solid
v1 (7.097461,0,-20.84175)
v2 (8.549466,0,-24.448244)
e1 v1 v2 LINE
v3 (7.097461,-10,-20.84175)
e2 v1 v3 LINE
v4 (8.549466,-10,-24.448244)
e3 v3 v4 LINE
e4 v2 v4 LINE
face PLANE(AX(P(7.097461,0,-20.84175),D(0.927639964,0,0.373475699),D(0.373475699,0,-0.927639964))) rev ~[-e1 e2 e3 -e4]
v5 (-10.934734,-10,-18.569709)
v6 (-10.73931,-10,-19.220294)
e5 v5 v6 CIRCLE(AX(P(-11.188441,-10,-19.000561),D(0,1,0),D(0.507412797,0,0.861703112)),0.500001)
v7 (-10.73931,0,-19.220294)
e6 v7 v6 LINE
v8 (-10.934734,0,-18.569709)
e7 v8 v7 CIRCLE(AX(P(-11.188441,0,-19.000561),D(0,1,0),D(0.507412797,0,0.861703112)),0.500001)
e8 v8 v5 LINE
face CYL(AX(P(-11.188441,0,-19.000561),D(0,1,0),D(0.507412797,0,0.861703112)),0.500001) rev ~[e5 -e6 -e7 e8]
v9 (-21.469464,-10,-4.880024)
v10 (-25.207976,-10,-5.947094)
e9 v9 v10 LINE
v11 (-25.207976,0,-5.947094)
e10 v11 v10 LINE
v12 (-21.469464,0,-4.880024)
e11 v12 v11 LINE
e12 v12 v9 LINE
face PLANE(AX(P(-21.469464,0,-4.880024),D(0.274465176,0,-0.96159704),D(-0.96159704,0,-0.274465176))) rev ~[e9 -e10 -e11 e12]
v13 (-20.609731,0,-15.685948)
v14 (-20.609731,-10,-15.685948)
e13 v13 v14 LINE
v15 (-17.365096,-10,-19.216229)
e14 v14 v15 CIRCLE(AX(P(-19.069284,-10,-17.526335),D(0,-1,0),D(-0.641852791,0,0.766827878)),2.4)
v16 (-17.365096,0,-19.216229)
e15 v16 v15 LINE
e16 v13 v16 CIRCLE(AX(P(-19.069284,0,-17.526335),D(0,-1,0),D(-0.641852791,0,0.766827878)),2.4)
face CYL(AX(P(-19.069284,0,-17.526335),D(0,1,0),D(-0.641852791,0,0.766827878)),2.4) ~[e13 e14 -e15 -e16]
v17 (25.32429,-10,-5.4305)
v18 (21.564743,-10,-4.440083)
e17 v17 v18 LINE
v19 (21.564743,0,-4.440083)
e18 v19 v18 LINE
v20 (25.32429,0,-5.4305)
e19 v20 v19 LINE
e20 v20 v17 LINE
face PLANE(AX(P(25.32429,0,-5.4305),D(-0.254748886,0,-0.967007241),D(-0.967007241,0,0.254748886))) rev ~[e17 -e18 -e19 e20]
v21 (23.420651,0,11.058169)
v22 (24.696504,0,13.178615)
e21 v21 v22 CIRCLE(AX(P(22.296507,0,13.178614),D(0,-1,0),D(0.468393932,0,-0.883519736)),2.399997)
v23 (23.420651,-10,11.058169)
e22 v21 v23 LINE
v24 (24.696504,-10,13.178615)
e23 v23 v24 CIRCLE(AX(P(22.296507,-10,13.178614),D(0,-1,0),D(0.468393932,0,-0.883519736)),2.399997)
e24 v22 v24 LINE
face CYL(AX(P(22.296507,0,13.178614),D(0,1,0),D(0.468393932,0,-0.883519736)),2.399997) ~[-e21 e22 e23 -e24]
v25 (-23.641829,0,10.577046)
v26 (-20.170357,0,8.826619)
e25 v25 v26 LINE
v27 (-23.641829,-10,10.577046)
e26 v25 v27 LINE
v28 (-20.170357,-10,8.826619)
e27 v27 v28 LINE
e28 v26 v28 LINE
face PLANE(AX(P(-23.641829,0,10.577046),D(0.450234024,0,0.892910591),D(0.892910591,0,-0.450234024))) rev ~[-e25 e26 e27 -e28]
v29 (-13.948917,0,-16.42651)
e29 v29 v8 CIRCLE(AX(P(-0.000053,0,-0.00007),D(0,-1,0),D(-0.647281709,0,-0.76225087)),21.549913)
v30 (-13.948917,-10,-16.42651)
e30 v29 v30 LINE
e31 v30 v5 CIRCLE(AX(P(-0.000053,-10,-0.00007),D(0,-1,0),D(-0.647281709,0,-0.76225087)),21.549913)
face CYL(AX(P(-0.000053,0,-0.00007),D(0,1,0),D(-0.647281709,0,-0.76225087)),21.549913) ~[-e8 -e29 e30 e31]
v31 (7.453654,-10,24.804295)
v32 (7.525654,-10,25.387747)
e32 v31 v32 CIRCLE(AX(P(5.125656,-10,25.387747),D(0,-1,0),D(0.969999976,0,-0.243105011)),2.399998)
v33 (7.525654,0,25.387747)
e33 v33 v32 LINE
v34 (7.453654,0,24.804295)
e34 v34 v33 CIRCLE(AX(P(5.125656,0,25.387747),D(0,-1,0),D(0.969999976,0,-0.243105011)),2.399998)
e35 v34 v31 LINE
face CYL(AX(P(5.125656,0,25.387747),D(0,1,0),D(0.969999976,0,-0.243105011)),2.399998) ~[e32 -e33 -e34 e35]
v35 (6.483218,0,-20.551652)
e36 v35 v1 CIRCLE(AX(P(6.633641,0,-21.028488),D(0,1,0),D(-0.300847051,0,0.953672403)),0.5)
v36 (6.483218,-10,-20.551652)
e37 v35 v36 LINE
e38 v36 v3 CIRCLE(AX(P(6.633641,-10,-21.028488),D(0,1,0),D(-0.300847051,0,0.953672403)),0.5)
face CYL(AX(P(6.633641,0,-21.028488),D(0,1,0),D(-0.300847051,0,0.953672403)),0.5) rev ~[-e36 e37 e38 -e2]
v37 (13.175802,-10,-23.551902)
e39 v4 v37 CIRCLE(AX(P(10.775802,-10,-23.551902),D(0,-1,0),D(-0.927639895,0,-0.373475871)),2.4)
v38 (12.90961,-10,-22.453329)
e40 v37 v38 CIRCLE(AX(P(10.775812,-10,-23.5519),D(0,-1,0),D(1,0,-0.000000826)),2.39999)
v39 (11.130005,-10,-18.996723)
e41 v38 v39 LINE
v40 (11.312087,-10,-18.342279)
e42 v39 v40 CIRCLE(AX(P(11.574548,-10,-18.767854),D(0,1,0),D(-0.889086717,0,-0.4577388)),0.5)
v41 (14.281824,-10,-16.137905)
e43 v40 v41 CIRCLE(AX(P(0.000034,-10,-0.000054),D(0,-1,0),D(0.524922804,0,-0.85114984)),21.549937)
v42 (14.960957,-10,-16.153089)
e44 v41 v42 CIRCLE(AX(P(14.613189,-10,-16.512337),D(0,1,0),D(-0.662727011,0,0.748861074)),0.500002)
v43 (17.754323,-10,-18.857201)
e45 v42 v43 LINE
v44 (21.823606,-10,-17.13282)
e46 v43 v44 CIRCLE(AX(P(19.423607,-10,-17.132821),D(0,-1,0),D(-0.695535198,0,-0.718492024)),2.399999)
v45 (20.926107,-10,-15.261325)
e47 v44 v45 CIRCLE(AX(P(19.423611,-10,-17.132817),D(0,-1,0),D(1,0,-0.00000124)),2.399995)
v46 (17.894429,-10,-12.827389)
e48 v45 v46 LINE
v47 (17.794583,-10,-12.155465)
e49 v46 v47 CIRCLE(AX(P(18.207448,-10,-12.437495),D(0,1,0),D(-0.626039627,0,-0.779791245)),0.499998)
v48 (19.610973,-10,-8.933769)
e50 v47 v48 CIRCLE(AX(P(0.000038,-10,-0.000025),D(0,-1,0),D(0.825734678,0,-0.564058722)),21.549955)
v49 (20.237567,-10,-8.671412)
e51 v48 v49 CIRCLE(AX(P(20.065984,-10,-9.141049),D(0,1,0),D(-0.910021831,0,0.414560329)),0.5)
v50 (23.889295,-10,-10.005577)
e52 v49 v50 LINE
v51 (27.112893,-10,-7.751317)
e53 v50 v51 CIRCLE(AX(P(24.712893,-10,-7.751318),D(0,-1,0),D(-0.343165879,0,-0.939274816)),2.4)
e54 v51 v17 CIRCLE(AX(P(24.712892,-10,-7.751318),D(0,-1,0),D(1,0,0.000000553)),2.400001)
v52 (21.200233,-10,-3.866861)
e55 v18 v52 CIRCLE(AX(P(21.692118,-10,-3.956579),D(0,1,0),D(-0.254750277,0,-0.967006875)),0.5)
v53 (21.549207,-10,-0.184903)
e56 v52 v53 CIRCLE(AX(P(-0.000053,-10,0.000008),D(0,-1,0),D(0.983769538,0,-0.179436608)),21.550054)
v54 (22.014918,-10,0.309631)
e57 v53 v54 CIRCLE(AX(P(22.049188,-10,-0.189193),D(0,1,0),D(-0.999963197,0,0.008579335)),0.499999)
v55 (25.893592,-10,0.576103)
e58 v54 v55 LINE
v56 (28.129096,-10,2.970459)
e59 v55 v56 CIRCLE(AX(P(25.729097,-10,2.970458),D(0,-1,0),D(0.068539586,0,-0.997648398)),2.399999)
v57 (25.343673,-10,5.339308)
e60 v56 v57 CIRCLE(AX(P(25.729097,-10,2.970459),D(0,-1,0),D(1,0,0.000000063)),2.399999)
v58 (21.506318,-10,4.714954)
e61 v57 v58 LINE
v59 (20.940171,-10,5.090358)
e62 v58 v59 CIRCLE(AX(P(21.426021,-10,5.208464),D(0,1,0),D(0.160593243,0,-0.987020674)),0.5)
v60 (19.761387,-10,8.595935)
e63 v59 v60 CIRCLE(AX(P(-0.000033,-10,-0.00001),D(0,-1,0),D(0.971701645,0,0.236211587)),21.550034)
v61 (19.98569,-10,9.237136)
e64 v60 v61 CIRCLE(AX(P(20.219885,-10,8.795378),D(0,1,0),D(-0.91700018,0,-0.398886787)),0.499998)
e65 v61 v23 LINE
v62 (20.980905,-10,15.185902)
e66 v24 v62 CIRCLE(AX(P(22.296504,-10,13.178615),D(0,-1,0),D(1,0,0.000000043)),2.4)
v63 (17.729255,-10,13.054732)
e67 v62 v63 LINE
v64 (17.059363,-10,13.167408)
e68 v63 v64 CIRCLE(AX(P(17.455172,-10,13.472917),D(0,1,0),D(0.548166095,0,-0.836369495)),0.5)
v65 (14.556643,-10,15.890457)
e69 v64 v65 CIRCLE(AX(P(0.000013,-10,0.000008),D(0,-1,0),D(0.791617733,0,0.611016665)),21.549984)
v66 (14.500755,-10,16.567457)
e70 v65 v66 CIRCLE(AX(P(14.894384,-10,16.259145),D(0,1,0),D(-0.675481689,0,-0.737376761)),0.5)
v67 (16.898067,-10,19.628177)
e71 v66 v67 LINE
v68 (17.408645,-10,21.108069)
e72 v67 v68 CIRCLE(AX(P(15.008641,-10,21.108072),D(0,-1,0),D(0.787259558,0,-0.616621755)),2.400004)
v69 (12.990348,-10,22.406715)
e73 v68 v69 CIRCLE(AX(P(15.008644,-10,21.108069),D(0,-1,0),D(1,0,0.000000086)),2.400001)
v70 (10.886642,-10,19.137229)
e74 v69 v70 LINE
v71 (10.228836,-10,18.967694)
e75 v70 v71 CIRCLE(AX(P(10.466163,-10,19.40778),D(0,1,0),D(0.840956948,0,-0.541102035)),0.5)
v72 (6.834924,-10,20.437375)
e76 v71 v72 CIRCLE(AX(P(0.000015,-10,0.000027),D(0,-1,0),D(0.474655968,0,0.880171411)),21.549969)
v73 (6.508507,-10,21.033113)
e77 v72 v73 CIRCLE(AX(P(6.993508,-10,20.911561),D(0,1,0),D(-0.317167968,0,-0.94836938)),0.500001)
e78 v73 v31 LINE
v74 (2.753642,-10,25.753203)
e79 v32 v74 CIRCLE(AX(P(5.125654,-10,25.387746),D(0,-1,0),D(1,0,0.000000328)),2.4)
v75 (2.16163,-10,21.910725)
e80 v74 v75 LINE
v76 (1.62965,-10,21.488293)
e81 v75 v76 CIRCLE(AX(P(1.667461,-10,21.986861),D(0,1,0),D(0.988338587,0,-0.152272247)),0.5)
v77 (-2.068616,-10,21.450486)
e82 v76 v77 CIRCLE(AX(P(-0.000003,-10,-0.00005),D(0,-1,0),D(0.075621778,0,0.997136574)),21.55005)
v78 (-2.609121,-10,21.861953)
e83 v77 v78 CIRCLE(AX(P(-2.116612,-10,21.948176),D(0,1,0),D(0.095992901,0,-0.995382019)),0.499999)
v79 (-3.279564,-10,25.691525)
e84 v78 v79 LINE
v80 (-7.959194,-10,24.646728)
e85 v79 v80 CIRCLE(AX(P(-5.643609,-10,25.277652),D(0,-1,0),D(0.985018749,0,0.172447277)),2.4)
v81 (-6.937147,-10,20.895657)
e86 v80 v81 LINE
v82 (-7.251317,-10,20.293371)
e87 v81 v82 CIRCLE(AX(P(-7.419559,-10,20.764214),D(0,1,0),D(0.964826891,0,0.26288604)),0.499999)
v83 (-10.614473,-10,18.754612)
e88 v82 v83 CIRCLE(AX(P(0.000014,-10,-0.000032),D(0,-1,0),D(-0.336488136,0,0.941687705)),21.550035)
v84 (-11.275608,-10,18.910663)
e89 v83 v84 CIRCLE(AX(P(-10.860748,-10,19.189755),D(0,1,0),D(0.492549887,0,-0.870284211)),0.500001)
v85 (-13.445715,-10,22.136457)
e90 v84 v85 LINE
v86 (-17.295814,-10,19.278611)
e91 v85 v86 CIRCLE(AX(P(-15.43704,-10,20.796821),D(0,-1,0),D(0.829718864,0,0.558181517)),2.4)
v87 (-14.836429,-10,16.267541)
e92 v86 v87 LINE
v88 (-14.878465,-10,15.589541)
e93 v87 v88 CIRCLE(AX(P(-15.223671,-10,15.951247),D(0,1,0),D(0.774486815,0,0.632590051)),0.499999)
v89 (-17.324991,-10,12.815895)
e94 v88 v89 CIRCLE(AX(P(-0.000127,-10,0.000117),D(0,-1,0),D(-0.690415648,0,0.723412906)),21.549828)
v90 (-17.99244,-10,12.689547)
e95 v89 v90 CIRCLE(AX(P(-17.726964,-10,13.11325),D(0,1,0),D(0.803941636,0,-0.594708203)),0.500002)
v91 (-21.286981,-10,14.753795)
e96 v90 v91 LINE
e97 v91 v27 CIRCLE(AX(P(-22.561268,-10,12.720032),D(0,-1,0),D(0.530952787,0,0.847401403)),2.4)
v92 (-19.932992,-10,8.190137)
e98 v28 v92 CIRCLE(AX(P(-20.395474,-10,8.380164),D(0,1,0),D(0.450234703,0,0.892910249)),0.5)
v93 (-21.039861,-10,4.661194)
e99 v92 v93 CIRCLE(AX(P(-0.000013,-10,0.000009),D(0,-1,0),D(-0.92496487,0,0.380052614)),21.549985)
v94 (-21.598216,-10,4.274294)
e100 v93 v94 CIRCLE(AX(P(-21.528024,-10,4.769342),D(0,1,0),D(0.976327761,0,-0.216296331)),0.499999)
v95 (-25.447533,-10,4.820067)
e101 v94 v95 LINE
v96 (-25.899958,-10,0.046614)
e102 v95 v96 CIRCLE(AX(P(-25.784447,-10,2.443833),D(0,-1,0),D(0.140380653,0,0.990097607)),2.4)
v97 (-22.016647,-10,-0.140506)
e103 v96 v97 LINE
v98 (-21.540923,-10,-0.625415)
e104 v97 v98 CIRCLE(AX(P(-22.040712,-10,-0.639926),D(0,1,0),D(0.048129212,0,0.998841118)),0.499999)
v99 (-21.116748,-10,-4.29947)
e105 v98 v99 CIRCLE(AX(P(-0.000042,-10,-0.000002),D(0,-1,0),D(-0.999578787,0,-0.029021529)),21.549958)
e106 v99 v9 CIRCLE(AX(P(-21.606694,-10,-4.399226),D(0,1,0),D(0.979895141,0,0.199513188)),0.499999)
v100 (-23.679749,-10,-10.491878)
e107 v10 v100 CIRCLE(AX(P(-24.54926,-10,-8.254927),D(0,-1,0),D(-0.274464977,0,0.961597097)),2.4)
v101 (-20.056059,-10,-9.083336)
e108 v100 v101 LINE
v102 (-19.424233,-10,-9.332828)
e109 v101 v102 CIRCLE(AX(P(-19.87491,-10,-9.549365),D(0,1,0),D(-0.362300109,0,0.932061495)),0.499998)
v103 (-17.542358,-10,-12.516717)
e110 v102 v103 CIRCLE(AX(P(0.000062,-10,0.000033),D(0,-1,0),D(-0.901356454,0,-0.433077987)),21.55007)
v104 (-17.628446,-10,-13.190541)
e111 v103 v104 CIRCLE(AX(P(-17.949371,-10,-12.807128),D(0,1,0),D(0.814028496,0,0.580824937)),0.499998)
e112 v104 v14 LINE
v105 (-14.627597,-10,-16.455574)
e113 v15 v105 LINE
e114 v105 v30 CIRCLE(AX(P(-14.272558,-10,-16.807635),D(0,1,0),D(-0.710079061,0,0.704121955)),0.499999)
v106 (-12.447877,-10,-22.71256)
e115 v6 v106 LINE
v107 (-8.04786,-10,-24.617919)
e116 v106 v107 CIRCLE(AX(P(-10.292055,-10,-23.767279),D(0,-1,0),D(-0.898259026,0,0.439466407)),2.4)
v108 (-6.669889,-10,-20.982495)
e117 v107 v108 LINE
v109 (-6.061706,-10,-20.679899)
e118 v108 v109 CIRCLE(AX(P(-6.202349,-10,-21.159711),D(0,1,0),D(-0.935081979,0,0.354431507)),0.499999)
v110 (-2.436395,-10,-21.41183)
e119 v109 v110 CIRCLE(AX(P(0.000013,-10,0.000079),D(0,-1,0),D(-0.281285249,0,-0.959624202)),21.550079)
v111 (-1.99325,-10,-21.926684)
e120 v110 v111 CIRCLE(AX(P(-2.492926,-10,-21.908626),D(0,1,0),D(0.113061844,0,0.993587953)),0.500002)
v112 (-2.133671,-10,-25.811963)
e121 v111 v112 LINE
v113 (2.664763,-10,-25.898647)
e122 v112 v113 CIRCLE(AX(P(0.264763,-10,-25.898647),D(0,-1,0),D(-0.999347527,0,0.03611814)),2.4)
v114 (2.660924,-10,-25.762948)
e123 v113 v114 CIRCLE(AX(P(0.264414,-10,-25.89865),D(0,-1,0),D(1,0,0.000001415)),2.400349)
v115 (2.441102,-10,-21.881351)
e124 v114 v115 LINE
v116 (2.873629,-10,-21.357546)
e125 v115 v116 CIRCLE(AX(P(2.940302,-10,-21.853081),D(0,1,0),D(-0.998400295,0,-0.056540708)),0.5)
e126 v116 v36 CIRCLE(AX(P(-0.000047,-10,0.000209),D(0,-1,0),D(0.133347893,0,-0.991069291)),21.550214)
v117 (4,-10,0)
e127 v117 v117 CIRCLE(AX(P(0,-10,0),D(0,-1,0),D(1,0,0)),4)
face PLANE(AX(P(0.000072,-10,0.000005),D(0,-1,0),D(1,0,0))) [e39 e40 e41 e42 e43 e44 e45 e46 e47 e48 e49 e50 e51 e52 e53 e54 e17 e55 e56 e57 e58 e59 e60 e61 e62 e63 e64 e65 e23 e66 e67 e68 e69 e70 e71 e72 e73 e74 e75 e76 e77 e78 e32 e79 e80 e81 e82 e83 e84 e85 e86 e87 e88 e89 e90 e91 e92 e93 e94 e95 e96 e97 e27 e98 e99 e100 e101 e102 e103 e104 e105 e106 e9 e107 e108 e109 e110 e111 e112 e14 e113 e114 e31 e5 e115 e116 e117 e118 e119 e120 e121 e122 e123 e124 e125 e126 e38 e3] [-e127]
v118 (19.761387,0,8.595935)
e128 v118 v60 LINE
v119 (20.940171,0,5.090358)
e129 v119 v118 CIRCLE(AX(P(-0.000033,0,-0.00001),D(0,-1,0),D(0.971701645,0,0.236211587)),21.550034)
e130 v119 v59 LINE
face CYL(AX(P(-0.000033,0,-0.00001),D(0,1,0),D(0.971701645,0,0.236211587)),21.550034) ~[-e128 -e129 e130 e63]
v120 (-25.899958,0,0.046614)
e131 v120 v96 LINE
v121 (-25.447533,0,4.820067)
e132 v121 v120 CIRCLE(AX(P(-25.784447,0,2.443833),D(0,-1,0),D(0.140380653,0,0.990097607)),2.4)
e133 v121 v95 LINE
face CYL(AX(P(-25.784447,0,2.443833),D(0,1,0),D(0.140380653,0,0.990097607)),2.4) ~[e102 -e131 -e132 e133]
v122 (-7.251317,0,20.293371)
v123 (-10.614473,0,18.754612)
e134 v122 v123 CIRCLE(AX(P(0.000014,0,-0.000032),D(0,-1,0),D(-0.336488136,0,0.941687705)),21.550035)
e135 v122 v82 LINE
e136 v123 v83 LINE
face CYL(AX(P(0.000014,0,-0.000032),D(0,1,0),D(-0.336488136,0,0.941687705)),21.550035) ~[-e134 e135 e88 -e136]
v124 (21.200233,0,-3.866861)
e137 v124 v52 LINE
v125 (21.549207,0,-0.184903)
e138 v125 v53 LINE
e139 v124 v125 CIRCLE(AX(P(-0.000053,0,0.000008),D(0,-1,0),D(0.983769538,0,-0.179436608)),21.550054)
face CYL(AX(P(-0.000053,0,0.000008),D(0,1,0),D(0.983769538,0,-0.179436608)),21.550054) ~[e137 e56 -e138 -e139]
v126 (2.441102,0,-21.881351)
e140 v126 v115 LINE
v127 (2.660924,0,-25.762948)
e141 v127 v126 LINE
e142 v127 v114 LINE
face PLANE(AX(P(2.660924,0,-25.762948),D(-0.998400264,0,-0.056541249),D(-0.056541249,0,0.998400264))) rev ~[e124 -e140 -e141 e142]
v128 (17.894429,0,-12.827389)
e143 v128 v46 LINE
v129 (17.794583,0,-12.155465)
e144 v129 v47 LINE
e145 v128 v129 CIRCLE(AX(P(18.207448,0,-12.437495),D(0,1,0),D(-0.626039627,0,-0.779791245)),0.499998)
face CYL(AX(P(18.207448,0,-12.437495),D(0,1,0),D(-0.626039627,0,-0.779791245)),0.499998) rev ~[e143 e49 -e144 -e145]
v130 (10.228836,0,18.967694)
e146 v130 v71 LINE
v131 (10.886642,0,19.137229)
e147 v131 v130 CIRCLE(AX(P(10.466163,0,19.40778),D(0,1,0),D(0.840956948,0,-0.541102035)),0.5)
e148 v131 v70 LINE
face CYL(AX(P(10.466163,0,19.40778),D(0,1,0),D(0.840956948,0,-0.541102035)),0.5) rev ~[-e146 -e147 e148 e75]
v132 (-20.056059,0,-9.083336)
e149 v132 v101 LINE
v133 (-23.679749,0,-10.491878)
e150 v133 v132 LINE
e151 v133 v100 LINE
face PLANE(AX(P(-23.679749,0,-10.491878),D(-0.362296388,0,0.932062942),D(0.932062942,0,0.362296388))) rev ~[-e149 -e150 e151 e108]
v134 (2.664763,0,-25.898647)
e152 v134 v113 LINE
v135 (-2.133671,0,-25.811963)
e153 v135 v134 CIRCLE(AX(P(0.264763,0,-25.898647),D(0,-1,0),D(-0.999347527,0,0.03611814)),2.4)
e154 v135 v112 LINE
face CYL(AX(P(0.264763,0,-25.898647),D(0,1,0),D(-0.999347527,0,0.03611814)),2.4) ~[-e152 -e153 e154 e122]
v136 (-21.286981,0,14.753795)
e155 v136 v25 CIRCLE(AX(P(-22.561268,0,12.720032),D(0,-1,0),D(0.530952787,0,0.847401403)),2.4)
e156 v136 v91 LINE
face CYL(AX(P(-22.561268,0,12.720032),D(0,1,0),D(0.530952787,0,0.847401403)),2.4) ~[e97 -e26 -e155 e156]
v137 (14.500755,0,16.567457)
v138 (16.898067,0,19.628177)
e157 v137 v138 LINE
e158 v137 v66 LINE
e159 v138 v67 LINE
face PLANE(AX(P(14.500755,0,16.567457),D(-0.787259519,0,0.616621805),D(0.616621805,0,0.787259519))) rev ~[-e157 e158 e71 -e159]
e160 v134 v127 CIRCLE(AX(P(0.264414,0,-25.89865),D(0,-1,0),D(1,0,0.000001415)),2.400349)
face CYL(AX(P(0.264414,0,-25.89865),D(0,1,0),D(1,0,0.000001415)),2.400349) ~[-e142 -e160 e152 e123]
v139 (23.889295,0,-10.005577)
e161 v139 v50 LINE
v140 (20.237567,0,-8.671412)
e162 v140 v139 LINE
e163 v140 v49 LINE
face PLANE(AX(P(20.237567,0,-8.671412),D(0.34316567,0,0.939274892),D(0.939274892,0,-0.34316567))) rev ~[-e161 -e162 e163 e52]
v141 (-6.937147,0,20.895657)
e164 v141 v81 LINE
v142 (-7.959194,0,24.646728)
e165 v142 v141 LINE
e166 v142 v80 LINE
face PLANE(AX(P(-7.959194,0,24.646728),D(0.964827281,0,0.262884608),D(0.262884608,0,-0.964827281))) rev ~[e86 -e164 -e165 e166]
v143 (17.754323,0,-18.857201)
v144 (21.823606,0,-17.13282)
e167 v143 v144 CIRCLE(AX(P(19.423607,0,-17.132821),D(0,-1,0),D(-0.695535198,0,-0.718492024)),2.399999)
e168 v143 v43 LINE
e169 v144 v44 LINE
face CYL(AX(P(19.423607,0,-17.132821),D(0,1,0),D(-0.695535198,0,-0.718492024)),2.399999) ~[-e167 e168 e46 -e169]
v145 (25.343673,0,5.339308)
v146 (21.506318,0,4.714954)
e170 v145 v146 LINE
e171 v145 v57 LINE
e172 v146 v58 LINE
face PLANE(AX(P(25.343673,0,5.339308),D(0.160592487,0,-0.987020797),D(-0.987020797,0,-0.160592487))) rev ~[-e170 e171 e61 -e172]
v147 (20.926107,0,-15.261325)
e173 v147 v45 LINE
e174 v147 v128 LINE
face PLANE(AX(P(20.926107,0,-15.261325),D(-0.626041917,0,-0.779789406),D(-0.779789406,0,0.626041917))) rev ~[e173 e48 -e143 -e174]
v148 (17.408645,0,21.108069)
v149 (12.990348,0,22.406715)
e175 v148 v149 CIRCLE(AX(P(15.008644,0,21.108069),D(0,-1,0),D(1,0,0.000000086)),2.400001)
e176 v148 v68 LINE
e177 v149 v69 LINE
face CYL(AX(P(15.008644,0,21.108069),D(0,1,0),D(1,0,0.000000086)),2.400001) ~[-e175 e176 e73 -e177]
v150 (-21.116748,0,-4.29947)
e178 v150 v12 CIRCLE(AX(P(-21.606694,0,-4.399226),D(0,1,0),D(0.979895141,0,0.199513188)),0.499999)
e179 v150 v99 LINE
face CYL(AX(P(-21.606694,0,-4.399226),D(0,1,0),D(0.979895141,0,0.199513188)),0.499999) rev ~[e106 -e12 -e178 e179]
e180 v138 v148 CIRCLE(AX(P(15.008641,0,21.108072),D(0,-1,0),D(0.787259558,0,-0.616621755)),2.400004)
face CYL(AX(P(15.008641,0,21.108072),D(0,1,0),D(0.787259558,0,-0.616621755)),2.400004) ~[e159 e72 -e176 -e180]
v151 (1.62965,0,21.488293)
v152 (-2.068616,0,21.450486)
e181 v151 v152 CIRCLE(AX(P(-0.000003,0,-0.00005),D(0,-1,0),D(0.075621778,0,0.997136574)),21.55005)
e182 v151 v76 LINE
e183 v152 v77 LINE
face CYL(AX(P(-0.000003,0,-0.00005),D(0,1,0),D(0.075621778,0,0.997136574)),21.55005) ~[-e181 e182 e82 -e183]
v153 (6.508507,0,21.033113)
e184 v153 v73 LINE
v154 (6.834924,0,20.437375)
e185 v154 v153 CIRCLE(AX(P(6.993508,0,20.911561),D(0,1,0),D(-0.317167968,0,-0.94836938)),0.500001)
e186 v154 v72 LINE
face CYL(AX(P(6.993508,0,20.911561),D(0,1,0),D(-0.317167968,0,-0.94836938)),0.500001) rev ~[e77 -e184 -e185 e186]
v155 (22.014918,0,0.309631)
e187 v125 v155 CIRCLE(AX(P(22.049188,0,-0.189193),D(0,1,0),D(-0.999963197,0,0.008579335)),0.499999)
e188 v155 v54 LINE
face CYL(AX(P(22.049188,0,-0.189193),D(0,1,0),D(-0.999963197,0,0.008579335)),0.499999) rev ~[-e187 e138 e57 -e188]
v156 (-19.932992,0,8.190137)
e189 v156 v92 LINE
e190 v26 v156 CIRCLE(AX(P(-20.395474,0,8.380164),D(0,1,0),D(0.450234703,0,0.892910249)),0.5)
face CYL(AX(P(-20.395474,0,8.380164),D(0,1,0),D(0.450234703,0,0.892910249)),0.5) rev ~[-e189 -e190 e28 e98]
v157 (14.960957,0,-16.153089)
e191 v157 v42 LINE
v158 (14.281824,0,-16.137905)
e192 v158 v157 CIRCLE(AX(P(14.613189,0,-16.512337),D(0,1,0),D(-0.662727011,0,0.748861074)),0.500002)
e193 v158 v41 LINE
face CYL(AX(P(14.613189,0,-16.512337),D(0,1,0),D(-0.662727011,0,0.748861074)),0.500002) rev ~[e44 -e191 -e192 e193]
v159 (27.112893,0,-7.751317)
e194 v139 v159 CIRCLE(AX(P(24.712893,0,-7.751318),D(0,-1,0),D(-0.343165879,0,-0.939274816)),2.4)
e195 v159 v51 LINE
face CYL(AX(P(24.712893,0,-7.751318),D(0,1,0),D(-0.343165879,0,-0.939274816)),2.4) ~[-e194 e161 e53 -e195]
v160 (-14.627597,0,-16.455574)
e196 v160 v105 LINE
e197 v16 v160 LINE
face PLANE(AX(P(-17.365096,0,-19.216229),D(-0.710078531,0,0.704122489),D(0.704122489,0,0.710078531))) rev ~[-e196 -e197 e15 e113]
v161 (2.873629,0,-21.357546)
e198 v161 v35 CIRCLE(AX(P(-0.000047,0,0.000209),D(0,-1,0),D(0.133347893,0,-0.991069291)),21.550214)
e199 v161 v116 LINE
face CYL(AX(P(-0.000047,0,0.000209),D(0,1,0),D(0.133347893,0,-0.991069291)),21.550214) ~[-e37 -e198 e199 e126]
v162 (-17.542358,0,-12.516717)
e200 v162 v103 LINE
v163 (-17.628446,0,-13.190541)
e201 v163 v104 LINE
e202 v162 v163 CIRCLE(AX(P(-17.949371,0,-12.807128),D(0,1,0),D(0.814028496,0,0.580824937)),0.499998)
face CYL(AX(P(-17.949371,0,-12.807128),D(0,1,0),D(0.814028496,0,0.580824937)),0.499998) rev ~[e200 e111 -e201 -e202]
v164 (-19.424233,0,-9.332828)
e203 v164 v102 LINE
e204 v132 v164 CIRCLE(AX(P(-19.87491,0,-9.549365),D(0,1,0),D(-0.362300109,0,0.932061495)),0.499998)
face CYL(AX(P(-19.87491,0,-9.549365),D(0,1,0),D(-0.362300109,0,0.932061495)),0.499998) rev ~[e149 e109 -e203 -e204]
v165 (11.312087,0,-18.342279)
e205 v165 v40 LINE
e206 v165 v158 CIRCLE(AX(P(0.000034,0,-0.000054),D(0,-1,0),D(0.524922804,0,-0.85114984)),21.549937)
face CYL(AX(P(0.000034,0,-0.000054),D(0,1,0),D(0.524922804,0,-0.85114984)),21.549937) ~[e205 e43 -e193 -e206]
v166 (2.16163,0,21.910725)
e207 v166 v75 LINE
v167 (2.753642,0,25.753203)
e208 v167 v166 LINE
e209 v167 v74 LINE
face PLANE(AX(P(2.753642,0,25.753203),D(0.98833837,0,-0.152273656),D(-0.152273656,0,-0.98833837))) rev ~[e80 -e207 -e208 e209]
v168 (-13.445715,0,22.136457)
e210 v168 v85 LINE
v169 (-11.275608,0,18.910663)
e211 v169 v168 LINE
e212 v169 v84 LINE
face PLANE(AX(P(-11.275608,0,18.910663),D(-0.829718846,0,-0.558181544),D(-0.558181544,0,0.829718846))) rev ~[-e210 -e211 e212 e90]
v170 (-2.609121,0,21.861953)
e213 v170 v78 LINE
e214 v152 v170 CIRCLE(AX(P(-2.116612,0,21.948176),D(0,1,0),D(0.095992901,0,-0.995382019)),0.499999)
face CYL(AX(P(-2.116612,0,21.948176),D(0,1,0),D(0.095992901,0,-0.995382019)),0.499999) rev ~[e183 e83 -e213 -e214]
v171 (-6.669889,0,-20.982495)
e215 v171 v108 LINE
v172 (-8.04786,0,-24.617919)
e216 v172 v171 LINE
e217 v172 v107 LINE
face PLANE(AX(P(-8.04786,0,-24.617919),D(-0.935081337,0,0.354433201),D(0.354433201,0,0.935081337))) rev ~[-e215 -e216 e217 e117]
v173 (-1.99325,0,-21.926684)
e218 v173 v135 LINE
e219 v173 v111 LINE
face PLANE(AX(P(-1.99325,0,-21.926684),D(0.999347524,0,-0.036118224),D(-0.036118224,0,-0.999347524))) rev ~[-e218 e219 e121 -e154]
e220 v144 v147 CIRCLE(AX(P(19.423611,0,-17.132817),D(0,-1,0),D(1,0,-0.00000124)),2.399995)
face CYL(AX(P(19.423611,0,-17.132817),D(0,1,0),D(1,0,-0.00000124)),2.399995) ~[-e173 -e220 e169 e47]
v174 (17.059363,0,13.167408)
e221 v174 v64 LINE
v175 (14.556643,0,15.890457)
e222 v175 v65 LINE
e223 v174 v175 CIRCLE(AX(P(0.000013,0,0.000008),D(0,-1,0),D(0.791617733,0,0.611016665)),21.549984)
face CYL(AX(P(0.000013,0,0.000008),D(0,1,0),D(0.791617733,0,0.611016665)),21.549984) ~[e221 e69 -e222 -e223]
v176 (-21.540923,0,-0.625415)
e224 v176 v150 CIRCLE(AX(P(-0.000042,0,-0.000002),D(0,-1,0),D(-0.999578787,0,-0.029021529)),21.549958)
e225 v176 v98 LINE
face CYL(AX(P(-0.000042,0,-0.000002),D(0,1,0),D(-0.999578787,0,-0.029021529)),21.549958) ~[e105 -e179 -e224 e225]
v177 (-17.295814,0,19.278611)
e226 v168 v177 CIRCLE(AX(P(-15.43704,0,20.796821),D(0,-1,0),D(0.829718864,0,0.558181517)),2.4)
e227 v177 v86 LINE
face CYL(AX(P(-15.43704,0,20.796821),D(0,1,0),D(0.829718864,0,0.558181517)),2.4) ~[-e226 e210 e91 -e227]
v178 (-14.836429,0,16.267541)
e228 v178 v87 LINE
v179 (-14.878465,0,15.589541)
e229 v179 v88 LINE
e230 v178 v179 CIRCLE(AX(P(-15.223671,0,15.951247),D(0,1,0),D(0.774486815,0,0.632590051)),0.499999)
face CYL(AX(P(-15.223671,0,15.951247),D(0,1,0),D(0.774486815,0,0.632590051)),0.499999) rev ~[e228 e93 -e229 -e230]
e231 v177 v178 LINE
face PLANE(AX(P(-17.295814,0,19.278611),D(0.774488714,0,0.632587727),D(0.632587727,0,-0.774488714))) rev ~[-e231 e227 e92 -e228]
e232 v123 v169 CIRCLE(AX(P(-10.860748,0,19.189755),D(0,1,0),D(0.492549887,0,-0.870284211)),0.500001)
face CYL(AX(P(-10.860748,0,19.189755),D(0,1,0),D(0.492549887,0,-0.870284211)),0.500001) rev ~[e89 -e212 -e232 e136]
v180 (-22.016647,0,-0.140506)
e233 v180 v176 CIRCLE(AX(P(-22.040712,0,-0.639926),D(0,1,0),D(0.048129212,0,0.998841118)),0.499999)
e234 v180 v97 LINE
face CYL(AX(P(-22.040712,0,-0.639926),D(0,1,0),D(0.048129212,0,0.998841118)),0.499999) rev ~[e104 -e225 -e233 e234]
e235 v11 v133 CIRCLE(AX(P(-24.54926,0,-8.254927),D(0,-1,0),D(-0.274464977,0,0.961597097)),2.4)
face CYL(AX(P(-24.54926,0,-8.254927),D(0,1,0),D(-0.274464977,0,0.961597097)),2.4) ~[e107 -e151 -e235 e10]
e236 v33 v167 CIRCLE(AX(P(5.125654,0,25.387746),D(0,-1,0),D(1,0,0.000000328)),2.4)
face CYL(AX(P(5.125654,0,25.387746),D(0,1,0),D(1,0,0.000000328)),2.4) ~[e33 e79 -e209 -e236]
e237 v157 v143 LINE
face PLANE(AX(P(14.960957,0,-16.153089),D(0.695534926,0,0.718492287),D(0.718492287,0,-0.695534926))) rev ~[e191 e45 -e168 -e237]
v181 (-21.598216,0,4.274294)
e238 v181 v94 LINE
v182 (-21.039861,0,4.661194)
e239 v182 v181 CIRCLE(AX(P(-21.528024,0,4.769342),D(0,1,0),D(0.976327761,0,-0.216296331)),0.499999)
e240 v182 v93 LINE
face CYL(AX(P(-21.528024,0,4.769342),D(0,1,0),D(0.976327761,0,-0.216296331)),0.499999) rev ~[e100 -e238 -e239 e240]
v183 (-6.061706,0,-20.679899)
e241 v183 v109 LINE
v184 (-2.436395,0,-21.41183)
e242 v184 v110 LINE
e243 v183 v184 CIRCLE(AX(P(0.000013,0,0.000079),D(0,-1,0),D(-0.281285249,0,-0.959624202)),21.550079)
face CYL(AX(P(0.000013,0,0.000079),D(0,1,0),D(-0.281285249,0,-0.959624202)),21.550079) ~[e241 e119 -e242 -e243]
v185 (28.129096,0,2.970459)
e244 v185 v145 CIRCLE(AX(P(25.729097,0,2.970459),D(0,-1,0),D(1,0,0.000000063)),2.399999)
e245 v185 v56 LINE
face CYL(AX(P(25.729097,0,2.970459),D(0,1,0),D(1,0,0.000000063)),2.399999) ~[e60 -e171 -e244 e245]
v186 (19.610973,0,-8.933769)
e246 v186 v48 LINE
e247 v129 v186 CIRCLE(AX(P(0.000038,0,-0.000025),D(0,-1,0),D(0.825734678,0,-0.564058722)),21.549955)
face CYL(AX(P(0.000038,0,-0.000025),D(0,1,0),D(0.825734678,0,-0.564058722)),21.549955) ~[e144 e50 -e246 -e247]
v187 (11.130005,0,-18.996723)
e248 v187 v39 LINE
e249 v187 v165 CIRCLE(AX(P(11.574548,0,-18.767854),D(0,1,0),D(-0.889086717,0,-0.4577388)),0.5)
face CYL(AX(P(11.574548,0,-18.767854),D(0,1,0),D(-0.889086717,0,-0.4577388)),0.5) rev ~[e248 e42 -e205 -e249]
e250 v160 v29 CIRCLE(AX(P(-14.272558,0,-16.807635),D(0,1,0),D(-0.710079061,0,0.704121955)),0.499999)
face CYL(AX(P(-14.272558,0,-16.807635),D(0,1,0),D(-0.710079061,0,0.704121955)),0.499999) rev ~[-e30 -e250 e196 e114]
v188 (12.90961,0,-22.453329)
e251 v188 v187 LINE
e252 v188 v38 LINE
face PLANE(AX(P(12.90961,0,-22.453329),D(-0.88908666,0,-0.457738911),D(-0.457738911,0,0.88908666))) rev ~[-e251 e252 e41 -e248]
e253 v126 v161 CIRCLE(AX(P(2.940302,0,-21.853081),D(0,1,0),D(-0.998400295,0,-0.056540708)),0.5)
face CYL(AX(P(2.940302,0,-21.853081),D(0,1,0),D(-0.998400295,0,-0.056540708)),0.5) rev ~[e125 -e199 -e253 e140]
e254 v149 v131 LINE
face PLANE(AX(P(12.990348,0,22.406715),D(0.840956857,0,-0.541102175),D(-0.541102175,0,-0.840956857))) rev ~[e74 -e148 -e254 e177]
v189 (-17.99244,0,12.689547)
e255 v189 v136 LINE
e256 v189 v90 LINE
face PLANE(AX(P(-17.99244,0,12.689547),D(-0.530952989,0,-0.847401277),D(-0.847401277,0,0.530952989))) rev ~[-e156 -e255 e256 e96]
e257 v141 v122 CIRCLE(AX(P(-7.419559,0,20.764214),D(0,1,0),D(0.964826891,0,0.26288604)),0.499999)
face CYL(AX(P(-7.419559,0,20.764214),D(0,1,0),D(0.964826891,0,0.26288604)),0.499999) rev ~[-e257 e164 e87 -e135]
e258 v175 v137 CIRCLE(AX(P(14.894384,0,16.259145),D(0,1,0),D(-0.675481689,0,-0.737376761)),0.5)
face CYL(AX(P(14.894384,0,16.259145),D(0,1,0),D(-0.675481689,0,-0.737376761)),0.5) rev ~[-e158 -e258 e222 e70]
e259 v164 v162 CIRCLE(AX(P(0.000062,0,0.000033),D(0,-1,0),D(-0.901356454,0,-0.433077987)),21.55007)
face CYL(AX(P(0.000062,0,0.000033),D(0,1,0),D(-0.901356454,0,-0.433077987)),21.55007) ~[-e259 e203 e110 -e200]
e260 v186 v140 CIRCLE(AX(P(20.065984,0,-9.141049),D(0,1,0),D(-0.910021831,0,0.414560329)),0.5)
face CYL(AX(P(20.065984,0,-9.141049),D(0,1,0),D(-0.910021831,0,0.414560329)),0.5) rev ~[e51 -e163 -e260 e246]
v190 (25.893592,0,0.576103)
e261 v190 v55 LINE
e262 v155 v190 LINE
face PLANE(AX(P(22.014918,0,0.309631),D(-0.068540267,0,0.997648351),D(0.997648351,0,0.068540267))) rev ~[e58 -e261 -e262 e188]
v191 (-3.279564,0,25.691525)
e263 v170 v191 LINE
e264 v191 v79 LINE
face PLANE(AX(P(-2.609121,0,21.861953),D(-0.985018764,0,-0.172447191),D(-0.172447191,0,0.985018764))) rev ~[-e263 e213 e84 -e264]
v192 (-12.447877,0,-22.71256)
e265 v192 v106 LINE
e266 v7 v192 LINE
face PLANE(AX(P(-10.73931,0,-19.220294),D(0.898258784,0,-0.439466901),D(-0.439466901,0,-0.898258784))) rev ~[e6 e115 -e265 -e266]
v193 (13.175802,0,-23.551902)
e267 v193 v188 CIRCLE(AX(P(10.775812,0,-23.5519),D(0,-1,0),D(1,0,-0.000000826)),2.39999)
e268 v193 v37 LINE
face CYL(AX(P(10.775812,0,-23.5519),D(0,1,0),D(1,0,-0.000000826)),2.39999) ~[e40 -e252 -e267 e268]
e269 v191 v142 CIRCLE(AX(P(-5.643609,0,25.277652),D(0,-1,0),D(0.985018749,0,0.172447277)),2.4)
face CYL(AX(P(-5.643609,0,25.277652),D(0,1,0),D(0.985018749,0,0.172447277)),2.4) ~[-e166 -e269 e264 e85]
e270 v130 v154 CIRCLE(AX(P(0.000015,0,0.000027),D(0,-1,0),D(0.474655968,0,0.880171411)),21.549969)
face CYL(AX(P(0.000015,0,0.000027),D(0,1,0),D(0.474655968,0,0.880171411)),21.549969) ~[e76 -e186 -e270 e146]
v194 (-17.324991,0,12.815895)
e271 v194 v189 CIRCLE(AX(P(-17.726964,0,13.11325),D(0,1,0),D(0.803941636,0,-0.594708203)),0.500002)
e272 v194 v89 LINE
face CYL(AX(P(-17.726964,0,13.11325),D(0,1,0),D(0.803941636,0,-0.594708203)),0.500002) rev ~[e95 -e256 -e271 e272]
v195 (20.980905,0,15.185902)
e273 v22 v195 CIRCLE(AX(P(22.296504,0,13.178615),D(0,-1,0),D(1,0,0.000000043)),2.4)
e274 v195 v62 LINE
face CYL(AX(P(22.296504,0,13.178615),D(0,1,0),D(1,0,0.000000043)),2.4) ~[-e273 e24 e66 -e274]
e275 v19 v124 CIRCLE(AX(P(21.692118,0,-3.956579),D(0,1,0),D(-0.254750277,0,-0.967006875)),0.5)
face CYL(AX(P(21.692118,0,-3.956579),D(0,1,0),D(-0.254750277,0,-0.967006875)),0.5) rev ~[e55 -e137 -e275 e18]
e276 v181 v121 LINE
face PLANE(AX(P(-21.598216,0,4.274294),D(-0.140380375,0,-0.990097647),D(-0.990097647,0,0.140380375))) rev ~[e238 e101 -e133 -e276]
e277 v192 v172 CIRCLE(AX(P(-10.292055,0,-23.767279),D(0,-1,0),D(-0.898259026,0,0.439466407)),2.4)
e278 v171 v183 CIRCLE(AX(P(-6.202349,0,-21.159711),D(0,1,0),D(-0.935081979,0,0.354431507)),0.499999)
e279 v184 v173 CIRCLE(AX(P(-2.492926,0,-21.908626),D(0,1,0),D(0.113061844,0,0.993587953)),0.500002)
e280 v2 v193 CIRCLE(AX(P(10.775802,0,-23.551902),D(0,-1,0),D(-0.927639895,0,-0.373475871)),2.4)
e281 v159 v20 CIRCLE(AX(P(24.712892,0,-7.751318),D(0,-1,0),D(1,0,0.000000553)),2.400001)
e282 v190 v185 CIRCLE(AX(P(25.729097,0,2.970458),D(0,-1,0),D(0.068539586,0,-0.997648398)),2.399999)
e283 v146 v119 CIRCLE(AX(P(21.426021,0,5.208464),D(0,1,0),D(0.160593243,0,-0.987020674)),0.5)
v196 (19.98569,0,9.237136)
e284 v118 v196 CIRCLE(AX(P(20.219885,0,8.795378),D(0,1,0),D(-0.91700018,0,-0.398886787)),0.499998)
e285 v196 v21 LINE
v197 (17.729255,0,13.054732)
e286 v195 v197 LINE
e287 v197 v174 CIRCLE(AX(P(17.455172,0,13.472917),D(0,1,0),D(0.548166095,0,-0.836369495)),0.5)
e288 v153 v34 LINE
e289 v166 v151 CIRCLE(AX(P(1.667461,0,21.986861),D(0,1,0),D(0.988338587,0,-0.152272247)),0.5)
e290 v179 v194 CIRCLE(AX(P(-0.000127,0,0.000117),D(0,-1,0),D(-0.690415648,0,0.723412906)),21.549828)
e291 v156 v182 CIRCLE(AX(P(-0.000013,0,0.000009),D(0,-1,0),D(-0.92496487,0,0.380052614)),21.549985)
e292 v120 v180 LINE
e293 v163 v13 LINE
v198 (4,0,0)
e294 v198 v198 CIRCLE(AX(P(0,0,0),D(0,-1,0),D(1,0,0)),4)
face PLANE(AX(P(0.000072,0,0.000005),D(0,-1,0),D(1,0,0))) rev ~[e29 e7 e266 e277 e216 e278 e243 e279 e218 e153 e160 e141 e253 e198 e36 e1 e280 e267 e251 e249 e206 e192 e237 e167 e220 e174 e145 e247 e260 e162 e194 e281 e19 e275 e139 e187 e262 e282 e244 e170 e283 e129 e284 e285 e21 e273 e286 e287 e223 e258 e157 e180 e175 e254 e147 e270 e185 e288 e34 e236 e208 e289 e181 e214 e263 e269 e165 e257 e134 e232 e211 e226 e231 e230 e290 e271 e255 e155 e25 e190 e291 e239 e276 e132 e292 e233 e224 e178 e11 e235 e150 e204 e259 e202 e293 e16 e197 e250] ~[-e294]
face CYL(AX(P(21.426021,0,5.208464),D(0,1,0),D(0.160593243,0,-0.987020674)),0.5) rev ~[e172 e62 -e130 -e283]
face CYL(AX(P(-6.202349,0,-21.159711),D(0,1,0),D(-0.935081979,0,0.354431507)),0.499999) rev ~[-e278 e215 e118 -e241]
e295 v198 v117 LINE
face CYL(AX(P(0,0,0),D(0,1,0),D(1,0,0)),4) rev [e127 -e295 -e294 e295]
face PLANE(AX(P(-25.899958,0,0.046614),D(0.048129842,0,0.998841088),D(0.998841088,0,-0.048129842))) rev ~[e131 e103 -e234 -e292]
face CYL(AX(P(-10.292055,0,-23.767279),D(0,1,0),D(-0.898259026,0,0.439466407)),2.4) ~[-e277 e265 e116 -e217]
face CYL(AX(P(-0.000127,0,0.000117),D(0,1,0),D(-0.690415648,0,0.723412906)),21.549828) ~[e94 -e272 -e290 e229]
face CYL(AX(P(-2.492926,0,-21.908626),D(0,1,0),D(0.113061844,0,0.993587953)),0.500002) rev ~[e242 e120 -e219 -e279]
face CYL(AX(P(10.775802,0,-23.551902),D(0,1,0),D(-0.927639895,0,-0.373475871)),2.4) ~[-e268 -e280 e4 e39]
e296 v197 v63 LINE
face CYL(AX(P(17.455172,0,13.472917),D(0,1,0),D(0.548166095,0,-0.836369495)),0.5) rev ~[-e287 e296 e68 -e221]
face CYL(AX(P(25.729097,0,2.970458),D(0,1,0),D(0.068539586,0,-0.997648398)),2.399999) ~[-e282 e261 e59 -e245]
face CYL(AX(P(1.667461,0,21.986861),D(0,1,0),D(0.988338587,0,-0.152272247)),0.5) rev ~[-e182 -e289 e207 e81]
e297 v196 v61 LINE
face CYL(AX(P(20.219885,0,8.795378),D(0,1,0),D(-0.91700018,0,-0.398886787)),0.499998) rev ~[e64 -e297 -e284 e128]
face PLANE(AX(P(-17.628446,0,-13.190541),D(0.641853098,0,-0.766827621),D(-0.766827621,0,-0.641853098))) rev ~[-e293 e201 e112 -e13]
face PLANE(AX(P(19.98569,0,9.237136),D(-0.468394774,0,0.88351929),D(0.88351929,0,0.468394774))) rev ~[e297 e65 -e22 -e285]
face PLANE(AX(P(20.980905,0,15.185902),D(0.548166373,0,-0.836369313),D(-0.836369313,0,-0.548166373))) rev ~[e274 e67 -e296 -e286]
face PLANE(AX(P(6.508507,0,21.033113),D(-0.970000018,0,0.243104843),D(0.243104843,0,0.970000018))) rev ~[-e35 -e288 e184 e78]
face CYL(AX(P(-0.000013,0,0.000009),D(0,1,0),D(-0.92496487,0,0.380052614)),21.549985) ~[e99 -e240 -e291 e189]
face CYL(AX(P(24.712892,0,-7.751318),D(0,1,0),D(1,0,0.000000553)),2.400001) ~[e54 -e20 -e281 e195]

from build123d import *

# Parameters (mm, degrees)
F0_R     = 4
F1_DEPTH = 10


with BuildPart() as f1:
    # F0 (on Front) → F1 (new body)
    with BuildSketch(Plane.XZ):
        with BuildLine():
            ThreePointArc((21.549207, -0.184903), (21.549802, -0.092452), (21.55, 0))
            ThreePointArc((21.55, 0), (21.397, 2.563379), (20.940171, 5.090358))
            ThreePointArc((20.940171, 5.090358), (20.426122, 6.868482), (19.761387, 8.595935))
            ThreePointArc((19.761387, 8.595935), (18.551725, 10.965218), (17.059363, 13.167408))
            ThreePointArc((17.059363, 13.167408), (15.866528, 14.582722), (14.556643, 15.890457))
            ThreePointArc((14.556643, 15.890457), (12.487888, 17.562892), (10.228836, 18.967694))
            ThreePointArc((10.228836, 18.967694), (8.563467, 19.775478), (6.834924, 20.437375))
            ThreePointArc((6.834924, 20.437375), (4.264781, 21.123781), (1.62965, 21.488293))
            ThreePointArc((1.62965, 21.488293), (-0.220295, 21.548874), (-2.068616, 21.450486))
            ThreePointArc((-2.068616, 21.450486), (-4.695744, 21.032177), (-7.251317, 20.293371))
            ThreePointArc((-7.251317, 20.293371), (-8.965966, 19.596274), (-10.614473, 18.754612))
            ThreePointArc((-10.614473, 18.754612), (-12.844333, 17.303919), (-14.878465, 15.589541))
            ThreePointArc((-14.878465, 15.589541), (-16.161341, 14.2553), (-17.324991, 12.815895))
            ThreePointArc((-17.324991, 12.815895), (-18.77202, 10.583656), (-19.932992, 8.190137))
            ThreePointArc((-19.932992, 8.190137), (-20.562272, 6.449455), (-21.039861, 4.661194))
            ThreePointArc((-21.039861, 4.661194), (-21.453854, 2.033382), (-21.540923, -0.625415))
            ThreePointArc((-21.540923, -0.625415), (-21.4078, -2.471559), (-21.116748, -4.29947))
            ThreePointArc((-21.116748, -4.29947), (-20.426122, -6.868482), (-19.424233, -9.332828))
            ThreePointArc((-19.424233, -9.332828), (-18.551725, -10.965218), (-17.542358, -12.516717))
            ThreePointArc((-17.542358, -12.516717), (-15.866528, -14.582722), (-13.948917, -16.42651))
            ThreePointArc((-13.948917, -16.42651), (-12.487888, -17.562892), (-10.934734, -18.569709))
            ThreePointArc((-10.934734, -18.569709), (-8.563467, -19.775478), (-6.061706, -20.679899))
            ThreePointArc((-6.061706, -20.679899), (-4.264781, -21.123781), (-2.436395, -21.41183))
            ThreePointArc((-2.436395, -21.41183), (0.220295, -21.548874), (2.873629, -21.357546))
            ThreePointArc((2.873629, -21.357546), (4.695744, -21.032177), (6.483218, -20.551652))
            ThreePointArc((6.483218, -20.551652), (8.965966, -19.596274), (11.312087, -18.342279))
            ThreePointArc((11.312087, -18.342279), (12.844333, -17.303919), (14.281824, -16.137905))
            ThreePointArc((14.281824, -16.137905), (16.161341, -14.2553), (17.794583, -12.155465))
            ThreePointArc((17.794583, -12.155465), (18.77202, -10.583656), (19.610973, -8.933769))
            ThreePointArc((19.610973, -8.933769), (20.562272, -6.449455), (21.200233, -3.866861))
            ThreePointArc((21.200233, -3.866861), (21.453854, -2.033382), (21.549207, -0.184903))
        make_face()
        Circle(F0_R, mode=Mode.SUBTRACT)
        with BuildLine():
            ThreePointArc((20.940171, 5.090358), (21.397, 2.563379), (21.55, 0))
            ThreePointArc((21.55, 0), (21.549802, -0.092452), (21.549207, -0.184903))
            ThreePointArc((21.549207, -0.184903), (21.685187, 0.153594), (22.014918, 0.309631))
            Line((22.014918, 0.309631), (25.893592, 0.576103))
            ThreePointArc((25.893592, 0.576103), (23.344933, 2.695204), (25.343673, 5.339308))
            Line((25.343673, 5.339308), (21.506318, 4.714954))
            ThreePointArc((21.506318, 4.714954), (21.149705, 4.791752), (20.940171, 5.090358))
        make_face()
        with BuildLine():
            ThreePointArc((17.059363, 13.167408), (18.551725, 10.965218), (19.761387, 8.595935))
            ThreePointArc((19.761387, 8.595935), (19.747931, 8.960475), (19.98569, 9.237136))
            Line((19.98569, 9.237136), (23.420651, 11.058169))
            ThreePointArc((23.420651, 11.058169), (20.230419, 11.957431), (20.980905, 15.185902))
            Line((20.980905, 15.185902), (17.729255, 13.054732))
            ThreePointArc((17.729255, 13.054732), (17.372236, 12.979843), (17.059363, 13.167408))
        make_face()
        with BuildLine():
            ThreePointArc((21.564743, -4.440083), (21.270198, -4.224877), (21.200233, -3.866861))
            ThreePointArc((21.200233, -3.866861), (20.562272, -6.449455), (19.610973, -8.933769))
            ThreePointArc((19.610973, -8.933769), (19.872876, -8.679845), (20.237567, -8.671412))
            Line((20.237567, -8.671412), (23.889295, -10.005577))
            ThreePointArc((23.889295, -10.005577), (22.422895, -7.033048), (25.32429, -5.4305))
            Line((25.32429, -5.4305), (21.564743, -4.440083))
        make_face()
        with BuildLine():
            ThreePointArc((28.129096, 2.970459), (27.283925, 4.798711), (25.343673, 5.339308))
            ThreePointArc((25.343673, 5.339308), (23.344933, 2.695204), (25.893592, 0.576103))
            ThreePointArc((25.893592, 0.576103), (27.483347, 1.332593), (28.129096, 2.970459))
        make_face()
        with BuildLine():
            ThreePointArc((10.228836, 18.967694), (12.487888, 17.562892), (14.556643, 15.890457))
            ThreePointArc((14.556643, 15.890457), (14.396079, 16.218009), (14.500755, 16.567457))
            Line((14.500755, 16.567457), (16.898067, 19.628177))
            ThreePointArc((16.898067, 19.628177), (13.617882, 19.152109), (12.990348, 22.406715))
            Line((12.990348, 22.406715), (10.886642, 19.137229))
            ThreePointArc((10.886642, 19.137229), (10.59095, 18.923602), (10.228836, 18.967694))
        make_face()
        with BuildLine():
            ThreePointArc((20.980905, 15.185902), (20.230419, 11.957431), (23.420651, 11.058169))
            ThreePointArc((23.420651, 11.058169), (24.352952, 11.94127), (24.696504, 13.178615))
            ThreePointArc((24.696504, 13.178615), (23.437241, 15.290183), (20.980905, 15.185902))
        make_face()
        with BuildLine():
            ThreePointArc((17.894429, -12.827389), (17.71288, -12.510986), (17.794583, -12.155465))
            ThreePointArc((17.794583, -12.155465), (16.161341, -14.2553), (14.281824, -16.137905))
            ThreePointArc((14.281824, -16.137905), (14.624365, -16.01246), (14.960957, -16.153089))
            Line((14.960957, -16.153089), (17.754323, -18.857201))
            ThreePointArc((17.754323, -18.857201), (17.623736, -15.545223), (20.926107, -15.261325))
            Line((20.926107, -15.261325), (17.894429, -12.827389))
        make_face()
        with BuildLine():
            ThreePointArc((27.112893, -7.751317), (26.61386, -6.286284), (25.32429, -5.4305))
            ThreePointArc((25.32429, -5.4305), (22.422895, -7.033048), (23.889295, -10.005577))
            ThreePointArc((23.889295, -10.005577), (26.088278, -9.718121), (27.112893, -7.751317))
        make_face()
        with BuildLine():
            ThreePointArc((1.62965, 21.488293), (4.264781, 21.123781), (6.834924, 20.437375))
            ThreePointArc((6.834924, 20.437375), (6.555015, 20.671301), (6.508507, 21.033113))
            Line((6.508507, 21.033113), (7.453654, 24.804295))
            ThreePointArc((7.453654, 24.804295), (4.65069, 23.035214), (2.753642, 25.753203))
            Line((2.753642, 25.753203), (2.16163, 21.910725))
            ThreePointArc((2.16163, 21.910725), (1.978392, 21.595298), (1.62965, 21.488293))
        make_face()
        with BuildLine():
            ThreePointArc((12.990348, 22.406715), (13.617882, 19.152109), (16.898067, 19.628177))
            ThreePointArc((16.898067, 19.628177), (17.277412, 20.325322), (17.408645, 21.108069))
            ThreePointArc((17.408645, 21.108069), (15.685434, 23.410667), (12.990348, 22.406715))
        make_face()
        with BuildLine():
            ThreePointArc((11.130005, -18.996723), (11.092845, -18.633832), (11.312087, -18.342279))
            ThreePointArc((11.312087, -18.342279), (8.965966, -19.596274), (6.483218, -20.551652))
            ThreePointArc((6.483218, -20.551652), (6.847168, -20.576375), (7.097461, -20.84175))
            Line((7.097461, -20.84175), (8.549466, -24.448244))
            ThreePointArc((8.549466, -24.448244), (9.777272, -21.369486), (12.90961, -22.453329))
            Line((12.90961, -22.453329), (11.130005, -18.996723))
        make_face()
        with BuildLine():
            ThreePointArc((21.823606, -17.13282), (21.587631, -16.095034), (20.926107, -15.261325))
            ThreePointArc((20.926107, -15.261325), (17.623736, -15.545223), (17.754323, -18.857201))
            ThreePointArc((17.754323, -18.857201), (20.360014, -19.342603), (21.823606, -17.13282))
        make_face()
        with BuildLine():
            ThreePointArc((-7.251317, 20.293371), (-4.695744, 21.032177), (-2.068616, 21.450486))
            ThreePointArc((-2.068616, 21.450486), (-2.419472, 21.550338), (-2.609121, 21.861953))
            Line((-2.609121, 21.861953), (-3.279564, 25.691525))
            ThreePointArc((-3.279564, 25.691525), (-3.252615, 25.485368), (-3.243609, 25.277652))
            ThreePointArc((-3.243609, 25.277652), (-5.325336, 22.898849), (-7.959194, 24.646728))
            Line((-7.959194, 24.646728), (-6.937147, 20.895657))
            ThreePointArc((-6.937147, 20.895657), (-6.976248, 20.53297), (-7.251317, 20.293371))
        make_face()
        with BuildLine():
            ThreePointArc((2.753642, 25.753203), (4.65069, 23.035214), (7.453654, 24.804295))
            ThreePointArc((7.453654, 24.804295), (7.507586, 25.093808), (7.525654, 25.387747))
            ThreePointArc((7.525654, 25.387747), (5.308917, 27.780739), (2.753642, 25.753203))
        make_face()
        with BuildLine():
            ThreePointArc((2.441102, -21.881351), (2.554756, -21.534719), (2.873629, -21.357546))
            ThreePointArc((2.873629, -21.357546), (0.220295, -21.548874), (-2.436395, -21.41183))
            ThreePointArc((-2.436395, -21.41183), (-2.113967, -21.582448), (-1.99325, -21.926684))
            Line((-1.99325, -21.926684), (-2.133671, -25.811963))
            ThreePointArc((-2.133671, -25.811963), (0.240229, -23.498772), (2.660924, -25.762948))
            Line((2.660924, -25.762948), (2.441102, -21.881351))
        make_face()
        with BuildLine():
            ThreePointArc((13.175802, -23.551902), (13.108305, -22.98672), (12.90961, -22.453329))
            ThreePointArc((12.90961, -22.453329), (9.777272, -21.369486), (8.549466, -24.448244))
            ThreePointArc((8.549466, -24.448244), (11.232307, -25.908086), (13.175802, -23.551902))
        make_face()
        with BuildLine():
            ThreePointArc((-14.878465, 15.589541), (-12.844333, 17.303919), (-10.614473, 18.754612))
            ThreePointArc((-10.614473, 18.754612), (-10.97561, 18.703126), (-11.275608, 18.910663))
            Line((-11.275608, 18.910663), (-13.445715, 22.136457))
            ThreePointArc((-13.445715, 22.136457), (-13.141482, 21.497114), (-13.037041, 20.796821))
            ThreePointArc((-13.037041, 20.796821), (-14.631142, 18.536174), (-17.295814, 19.278611))
            Line((-17.295814, 19.278611), (-14.836429, 16.267541))
            ThreePointArc((-14.836429, 16.267541), (-14.724631, 15.920306), (-14.878465, 15.589541))
        make_face()
        with BuildLine():
            ThreePointArc((-3.243609, 25.277652), (-3.252615, 25.485368), (-3.279564, 25.691525))
            ThreePointArc((-3.279564, 25.691525), (-6.166569, 27.619982), (-7.959194, 24.646728))
            ThreePointArc((-7.959194, 24.646728), (-5.325336, 22.898849), (-3.243609, 25.277652))
        make_face()
        with BuildLine():
            ThreePointArc((-6.669889, -20.982495), (-6.425074, -20.712058), (-6.061706, -20.679899))
            ThreePointArc((-6.061706, -20.679899), (-8.563467, -19.775478), (-10.934734, -18.569709))
            ThreePointArc((-10.934734, -18.569709), (-10.709577, -18.85672), (-10.73931, -19.220294))
            Line((-10.73931, -19.220294), (-12.447877, -22.71256))
            ThreePointArc((-12.447877, -22.71256), (-9.750747, -21.429121), (-7.892055, -23.76728))
            ThreePointArc((-7.892055, -23.76728), (-7.931328, -24.199675), (-8.04786, -24.617919))
            Line((-8.04786, -24.617919), (-6.669889, -20.982495))
        make_face()
        with BuildLine():
            ThreePointArc((2.664763, -25.898647), (2.663803, -25.83077), (2.660924, -25.762948))
            ThreePointArc((2.660924, -25.762948), (0.240229, -23.498772), (-2.133671, -25.811963))
            ThreePointArc((-2.133671, -25.811963), (0.221415, -28.298255), (2.664763, -25.898647))
        make_face()
        with BuildLine():
            ThreePointArc((-19.932992, 8.190137), (-18.77202, 10.583656), (-17.324991, 12.815895))
            ThreePointArc((-17.324991, 12.815895), (-17.633965, 12.621973), (-17.99244, 12.689547))
            Line((-17.99244, 12.689547), (-21.286981, 14.753795))
            ThreePointArc((-21.286981, 14.753795), (-20.461471, 13.882295), (-20.161268, 12.720032))
            ThreePointArc((-20.161268, 12.720032), (-21.302965, 10.67634), (-23.641829, 10.577046))
            Line((-23.641829, 10.577046), (-20.170357, 8.826619))
            ThreePointArc((-20.170357, 8.826619), (-19.926992, 8.554876), (-19.932992, 8.190137))
        make_face()
        with BuildLine():
            ThreePointArc((-13.037041, 20.796821), (-13.141482, 21.497114), (-13.445715, 22.136457))
            ThreePointArc((-13.445715, 22.136457), (-16.8675, 22.72394), (-17.295814, 19.278611))
            ThreePointArc((-17.295814, 19.278611), (-14.631142, 18.536174), (-13.037041, 20.796821))
        make_face()
        with BuildLine():
            ThreePointArc((-14.627597, -16.455574), (-14.29395, -16.308093), (-13.948917, -16.42651))
            ThreePointArc((-13.948917, -16.42651), (-15.866528, -14.582722), (-17.542358, -12.516717))
            ThreePointArc((-17.542358, -12.516717), (-17.453404, -12.870493), (-17.628446, -13.190541))
            Line((-17.628446, -13.190541), (-20.609731, -15.685948))
            ThreePointArc((-20.609731, -15.685948), (-18.053674, -15.351815), (-16.669284, -17.526335))
            ThreePointArc((-16.669284, -17.526335), (-16.850044, -18.440104), (-17.365096, -19.216229))
            Line((-17.365096, -19.216229), (-14.627597, -16.455574))
        make_face()
        with BuildLine():
            ThreePointArc((-12.447877, -22.71256), (-11.245759, -25.969653), (-8.04786, -24.617919))
            ThreePointArc((-8.04786, -24.617919), (-7.931328, -24.199675), (-7.892055, -23.76728))
            ThreePointArc((-7.892055, -23.76728), (-9.750747, -21.429121), (-12.447877, -22.71256))
        make_face()
        with BuildLine():
            ThreePointArc((-21.540923, -0.625415), (-21.453854, 2.033382), (-21.039861, 4.661194))
            ThreePointArc((-21.039861, 4.661194), (-21.243247, 4.358366), (-21.598216, 4.274294))
            Line((-21.598216, 4.274294), (-25.447533, 4.820067))
            ThreePointArc((-25.447533, 4.820067), (-23.972184, 4.01727), (-23.384446, 2.443833))
            ThreePointArc((-23.384446, 2.443833), (-24.128733, 0.706417), (-25.899958, 0.046614))
            Line((-25.899958, 0.046614), (-22.016647, -0.140506))
            ThreePointArc((-22.016647, -0.140506), (-21.683795, -0.289769), (-21.540923, -0.625415))
        make_face()
        with BuildLine():
            ThreePointArc((-20.161268, 12.720032), (-20.461471, 13.882295), (-21.286981, 14.753795))
            ThreePointArc((-21.286981, 14.753795), (-24.651887, 13.898722), (-23.641829, 10.577046))
            ThreePointArc((-23.641829, 10.577046), (-21.302965, 10.67634), (-20.161268, 12.720032))
        make_face()
        with BuildLine():
            ThreePointArc((-20.056059, -9.083336), (-19.691272, -9.084311), (-19.424233, -9.332828))
            ThreePointArc((-19.424233, -9.332828), (-20.426122, -6.868482), (-21.116748, -4.29947))
            ThreePointArc((-21.116748, -4.29947), (-21.179379, -4.658842), (-21.469464, -4.880024))
            Line((-21.469464, -4.880024), (-25.207976, -5.947094))
            ThreePointArc((-25.207976, -5.947094), (-23.103736, -6.339083), (-22.14926, -8.254927))
            ThreePointArc((-22.14926, -8.254927), (-22.568499, -9.610134), (-23.679749, -10.491878))
            Line((-23.679749, -10.491878), (-20.056059, -9.083336))
        make_face()
        with BuildLine():
            ThreePointArc((-20.609731, -15.685948), (-20.836322, -19.150397), (-17.365096, -19.216229))
            ThreePointArc((-17.365096, -19.216229), (-16.850044, -18.440104), (-16.669284, -17.526335))
            ThreePointArc((-16.669284, -17.526335), (-18.053674, -15.351815), (-20.609731, -15.685948))
        make_face()
        with BuildLine():
            ThreePointArc((-23.384446, 2.443833), (-23.972184, 4.01727), (-25.447533, 4.820067))
            ThreePointArc((-25.447533, 4.820067), (-28.173739, 2.670288), (-25.899958, 0.046614))
            ThreePointArc((-25.899958, 0.046614), (-24.128733, 0.706417), (-23.384446, 2.443833))
        make_face()
        with BuildLine():
            ThreePointArc((-25.207976, -5.947094), (-26.824095, -9.019862), (-23.679749, -10.491878))
            ThreePointArc((-23.679749, -10.491878), (-22.568499, -9.610134), (-22.14926, -8.254927))
            ThreePointArc((-22.14926, -8.254927), (-23.103736, -6.339083), (-25.207976, -5.947094))
        make_face()
    extrude(amount=F1_DEPTH)


solid = f1.part
